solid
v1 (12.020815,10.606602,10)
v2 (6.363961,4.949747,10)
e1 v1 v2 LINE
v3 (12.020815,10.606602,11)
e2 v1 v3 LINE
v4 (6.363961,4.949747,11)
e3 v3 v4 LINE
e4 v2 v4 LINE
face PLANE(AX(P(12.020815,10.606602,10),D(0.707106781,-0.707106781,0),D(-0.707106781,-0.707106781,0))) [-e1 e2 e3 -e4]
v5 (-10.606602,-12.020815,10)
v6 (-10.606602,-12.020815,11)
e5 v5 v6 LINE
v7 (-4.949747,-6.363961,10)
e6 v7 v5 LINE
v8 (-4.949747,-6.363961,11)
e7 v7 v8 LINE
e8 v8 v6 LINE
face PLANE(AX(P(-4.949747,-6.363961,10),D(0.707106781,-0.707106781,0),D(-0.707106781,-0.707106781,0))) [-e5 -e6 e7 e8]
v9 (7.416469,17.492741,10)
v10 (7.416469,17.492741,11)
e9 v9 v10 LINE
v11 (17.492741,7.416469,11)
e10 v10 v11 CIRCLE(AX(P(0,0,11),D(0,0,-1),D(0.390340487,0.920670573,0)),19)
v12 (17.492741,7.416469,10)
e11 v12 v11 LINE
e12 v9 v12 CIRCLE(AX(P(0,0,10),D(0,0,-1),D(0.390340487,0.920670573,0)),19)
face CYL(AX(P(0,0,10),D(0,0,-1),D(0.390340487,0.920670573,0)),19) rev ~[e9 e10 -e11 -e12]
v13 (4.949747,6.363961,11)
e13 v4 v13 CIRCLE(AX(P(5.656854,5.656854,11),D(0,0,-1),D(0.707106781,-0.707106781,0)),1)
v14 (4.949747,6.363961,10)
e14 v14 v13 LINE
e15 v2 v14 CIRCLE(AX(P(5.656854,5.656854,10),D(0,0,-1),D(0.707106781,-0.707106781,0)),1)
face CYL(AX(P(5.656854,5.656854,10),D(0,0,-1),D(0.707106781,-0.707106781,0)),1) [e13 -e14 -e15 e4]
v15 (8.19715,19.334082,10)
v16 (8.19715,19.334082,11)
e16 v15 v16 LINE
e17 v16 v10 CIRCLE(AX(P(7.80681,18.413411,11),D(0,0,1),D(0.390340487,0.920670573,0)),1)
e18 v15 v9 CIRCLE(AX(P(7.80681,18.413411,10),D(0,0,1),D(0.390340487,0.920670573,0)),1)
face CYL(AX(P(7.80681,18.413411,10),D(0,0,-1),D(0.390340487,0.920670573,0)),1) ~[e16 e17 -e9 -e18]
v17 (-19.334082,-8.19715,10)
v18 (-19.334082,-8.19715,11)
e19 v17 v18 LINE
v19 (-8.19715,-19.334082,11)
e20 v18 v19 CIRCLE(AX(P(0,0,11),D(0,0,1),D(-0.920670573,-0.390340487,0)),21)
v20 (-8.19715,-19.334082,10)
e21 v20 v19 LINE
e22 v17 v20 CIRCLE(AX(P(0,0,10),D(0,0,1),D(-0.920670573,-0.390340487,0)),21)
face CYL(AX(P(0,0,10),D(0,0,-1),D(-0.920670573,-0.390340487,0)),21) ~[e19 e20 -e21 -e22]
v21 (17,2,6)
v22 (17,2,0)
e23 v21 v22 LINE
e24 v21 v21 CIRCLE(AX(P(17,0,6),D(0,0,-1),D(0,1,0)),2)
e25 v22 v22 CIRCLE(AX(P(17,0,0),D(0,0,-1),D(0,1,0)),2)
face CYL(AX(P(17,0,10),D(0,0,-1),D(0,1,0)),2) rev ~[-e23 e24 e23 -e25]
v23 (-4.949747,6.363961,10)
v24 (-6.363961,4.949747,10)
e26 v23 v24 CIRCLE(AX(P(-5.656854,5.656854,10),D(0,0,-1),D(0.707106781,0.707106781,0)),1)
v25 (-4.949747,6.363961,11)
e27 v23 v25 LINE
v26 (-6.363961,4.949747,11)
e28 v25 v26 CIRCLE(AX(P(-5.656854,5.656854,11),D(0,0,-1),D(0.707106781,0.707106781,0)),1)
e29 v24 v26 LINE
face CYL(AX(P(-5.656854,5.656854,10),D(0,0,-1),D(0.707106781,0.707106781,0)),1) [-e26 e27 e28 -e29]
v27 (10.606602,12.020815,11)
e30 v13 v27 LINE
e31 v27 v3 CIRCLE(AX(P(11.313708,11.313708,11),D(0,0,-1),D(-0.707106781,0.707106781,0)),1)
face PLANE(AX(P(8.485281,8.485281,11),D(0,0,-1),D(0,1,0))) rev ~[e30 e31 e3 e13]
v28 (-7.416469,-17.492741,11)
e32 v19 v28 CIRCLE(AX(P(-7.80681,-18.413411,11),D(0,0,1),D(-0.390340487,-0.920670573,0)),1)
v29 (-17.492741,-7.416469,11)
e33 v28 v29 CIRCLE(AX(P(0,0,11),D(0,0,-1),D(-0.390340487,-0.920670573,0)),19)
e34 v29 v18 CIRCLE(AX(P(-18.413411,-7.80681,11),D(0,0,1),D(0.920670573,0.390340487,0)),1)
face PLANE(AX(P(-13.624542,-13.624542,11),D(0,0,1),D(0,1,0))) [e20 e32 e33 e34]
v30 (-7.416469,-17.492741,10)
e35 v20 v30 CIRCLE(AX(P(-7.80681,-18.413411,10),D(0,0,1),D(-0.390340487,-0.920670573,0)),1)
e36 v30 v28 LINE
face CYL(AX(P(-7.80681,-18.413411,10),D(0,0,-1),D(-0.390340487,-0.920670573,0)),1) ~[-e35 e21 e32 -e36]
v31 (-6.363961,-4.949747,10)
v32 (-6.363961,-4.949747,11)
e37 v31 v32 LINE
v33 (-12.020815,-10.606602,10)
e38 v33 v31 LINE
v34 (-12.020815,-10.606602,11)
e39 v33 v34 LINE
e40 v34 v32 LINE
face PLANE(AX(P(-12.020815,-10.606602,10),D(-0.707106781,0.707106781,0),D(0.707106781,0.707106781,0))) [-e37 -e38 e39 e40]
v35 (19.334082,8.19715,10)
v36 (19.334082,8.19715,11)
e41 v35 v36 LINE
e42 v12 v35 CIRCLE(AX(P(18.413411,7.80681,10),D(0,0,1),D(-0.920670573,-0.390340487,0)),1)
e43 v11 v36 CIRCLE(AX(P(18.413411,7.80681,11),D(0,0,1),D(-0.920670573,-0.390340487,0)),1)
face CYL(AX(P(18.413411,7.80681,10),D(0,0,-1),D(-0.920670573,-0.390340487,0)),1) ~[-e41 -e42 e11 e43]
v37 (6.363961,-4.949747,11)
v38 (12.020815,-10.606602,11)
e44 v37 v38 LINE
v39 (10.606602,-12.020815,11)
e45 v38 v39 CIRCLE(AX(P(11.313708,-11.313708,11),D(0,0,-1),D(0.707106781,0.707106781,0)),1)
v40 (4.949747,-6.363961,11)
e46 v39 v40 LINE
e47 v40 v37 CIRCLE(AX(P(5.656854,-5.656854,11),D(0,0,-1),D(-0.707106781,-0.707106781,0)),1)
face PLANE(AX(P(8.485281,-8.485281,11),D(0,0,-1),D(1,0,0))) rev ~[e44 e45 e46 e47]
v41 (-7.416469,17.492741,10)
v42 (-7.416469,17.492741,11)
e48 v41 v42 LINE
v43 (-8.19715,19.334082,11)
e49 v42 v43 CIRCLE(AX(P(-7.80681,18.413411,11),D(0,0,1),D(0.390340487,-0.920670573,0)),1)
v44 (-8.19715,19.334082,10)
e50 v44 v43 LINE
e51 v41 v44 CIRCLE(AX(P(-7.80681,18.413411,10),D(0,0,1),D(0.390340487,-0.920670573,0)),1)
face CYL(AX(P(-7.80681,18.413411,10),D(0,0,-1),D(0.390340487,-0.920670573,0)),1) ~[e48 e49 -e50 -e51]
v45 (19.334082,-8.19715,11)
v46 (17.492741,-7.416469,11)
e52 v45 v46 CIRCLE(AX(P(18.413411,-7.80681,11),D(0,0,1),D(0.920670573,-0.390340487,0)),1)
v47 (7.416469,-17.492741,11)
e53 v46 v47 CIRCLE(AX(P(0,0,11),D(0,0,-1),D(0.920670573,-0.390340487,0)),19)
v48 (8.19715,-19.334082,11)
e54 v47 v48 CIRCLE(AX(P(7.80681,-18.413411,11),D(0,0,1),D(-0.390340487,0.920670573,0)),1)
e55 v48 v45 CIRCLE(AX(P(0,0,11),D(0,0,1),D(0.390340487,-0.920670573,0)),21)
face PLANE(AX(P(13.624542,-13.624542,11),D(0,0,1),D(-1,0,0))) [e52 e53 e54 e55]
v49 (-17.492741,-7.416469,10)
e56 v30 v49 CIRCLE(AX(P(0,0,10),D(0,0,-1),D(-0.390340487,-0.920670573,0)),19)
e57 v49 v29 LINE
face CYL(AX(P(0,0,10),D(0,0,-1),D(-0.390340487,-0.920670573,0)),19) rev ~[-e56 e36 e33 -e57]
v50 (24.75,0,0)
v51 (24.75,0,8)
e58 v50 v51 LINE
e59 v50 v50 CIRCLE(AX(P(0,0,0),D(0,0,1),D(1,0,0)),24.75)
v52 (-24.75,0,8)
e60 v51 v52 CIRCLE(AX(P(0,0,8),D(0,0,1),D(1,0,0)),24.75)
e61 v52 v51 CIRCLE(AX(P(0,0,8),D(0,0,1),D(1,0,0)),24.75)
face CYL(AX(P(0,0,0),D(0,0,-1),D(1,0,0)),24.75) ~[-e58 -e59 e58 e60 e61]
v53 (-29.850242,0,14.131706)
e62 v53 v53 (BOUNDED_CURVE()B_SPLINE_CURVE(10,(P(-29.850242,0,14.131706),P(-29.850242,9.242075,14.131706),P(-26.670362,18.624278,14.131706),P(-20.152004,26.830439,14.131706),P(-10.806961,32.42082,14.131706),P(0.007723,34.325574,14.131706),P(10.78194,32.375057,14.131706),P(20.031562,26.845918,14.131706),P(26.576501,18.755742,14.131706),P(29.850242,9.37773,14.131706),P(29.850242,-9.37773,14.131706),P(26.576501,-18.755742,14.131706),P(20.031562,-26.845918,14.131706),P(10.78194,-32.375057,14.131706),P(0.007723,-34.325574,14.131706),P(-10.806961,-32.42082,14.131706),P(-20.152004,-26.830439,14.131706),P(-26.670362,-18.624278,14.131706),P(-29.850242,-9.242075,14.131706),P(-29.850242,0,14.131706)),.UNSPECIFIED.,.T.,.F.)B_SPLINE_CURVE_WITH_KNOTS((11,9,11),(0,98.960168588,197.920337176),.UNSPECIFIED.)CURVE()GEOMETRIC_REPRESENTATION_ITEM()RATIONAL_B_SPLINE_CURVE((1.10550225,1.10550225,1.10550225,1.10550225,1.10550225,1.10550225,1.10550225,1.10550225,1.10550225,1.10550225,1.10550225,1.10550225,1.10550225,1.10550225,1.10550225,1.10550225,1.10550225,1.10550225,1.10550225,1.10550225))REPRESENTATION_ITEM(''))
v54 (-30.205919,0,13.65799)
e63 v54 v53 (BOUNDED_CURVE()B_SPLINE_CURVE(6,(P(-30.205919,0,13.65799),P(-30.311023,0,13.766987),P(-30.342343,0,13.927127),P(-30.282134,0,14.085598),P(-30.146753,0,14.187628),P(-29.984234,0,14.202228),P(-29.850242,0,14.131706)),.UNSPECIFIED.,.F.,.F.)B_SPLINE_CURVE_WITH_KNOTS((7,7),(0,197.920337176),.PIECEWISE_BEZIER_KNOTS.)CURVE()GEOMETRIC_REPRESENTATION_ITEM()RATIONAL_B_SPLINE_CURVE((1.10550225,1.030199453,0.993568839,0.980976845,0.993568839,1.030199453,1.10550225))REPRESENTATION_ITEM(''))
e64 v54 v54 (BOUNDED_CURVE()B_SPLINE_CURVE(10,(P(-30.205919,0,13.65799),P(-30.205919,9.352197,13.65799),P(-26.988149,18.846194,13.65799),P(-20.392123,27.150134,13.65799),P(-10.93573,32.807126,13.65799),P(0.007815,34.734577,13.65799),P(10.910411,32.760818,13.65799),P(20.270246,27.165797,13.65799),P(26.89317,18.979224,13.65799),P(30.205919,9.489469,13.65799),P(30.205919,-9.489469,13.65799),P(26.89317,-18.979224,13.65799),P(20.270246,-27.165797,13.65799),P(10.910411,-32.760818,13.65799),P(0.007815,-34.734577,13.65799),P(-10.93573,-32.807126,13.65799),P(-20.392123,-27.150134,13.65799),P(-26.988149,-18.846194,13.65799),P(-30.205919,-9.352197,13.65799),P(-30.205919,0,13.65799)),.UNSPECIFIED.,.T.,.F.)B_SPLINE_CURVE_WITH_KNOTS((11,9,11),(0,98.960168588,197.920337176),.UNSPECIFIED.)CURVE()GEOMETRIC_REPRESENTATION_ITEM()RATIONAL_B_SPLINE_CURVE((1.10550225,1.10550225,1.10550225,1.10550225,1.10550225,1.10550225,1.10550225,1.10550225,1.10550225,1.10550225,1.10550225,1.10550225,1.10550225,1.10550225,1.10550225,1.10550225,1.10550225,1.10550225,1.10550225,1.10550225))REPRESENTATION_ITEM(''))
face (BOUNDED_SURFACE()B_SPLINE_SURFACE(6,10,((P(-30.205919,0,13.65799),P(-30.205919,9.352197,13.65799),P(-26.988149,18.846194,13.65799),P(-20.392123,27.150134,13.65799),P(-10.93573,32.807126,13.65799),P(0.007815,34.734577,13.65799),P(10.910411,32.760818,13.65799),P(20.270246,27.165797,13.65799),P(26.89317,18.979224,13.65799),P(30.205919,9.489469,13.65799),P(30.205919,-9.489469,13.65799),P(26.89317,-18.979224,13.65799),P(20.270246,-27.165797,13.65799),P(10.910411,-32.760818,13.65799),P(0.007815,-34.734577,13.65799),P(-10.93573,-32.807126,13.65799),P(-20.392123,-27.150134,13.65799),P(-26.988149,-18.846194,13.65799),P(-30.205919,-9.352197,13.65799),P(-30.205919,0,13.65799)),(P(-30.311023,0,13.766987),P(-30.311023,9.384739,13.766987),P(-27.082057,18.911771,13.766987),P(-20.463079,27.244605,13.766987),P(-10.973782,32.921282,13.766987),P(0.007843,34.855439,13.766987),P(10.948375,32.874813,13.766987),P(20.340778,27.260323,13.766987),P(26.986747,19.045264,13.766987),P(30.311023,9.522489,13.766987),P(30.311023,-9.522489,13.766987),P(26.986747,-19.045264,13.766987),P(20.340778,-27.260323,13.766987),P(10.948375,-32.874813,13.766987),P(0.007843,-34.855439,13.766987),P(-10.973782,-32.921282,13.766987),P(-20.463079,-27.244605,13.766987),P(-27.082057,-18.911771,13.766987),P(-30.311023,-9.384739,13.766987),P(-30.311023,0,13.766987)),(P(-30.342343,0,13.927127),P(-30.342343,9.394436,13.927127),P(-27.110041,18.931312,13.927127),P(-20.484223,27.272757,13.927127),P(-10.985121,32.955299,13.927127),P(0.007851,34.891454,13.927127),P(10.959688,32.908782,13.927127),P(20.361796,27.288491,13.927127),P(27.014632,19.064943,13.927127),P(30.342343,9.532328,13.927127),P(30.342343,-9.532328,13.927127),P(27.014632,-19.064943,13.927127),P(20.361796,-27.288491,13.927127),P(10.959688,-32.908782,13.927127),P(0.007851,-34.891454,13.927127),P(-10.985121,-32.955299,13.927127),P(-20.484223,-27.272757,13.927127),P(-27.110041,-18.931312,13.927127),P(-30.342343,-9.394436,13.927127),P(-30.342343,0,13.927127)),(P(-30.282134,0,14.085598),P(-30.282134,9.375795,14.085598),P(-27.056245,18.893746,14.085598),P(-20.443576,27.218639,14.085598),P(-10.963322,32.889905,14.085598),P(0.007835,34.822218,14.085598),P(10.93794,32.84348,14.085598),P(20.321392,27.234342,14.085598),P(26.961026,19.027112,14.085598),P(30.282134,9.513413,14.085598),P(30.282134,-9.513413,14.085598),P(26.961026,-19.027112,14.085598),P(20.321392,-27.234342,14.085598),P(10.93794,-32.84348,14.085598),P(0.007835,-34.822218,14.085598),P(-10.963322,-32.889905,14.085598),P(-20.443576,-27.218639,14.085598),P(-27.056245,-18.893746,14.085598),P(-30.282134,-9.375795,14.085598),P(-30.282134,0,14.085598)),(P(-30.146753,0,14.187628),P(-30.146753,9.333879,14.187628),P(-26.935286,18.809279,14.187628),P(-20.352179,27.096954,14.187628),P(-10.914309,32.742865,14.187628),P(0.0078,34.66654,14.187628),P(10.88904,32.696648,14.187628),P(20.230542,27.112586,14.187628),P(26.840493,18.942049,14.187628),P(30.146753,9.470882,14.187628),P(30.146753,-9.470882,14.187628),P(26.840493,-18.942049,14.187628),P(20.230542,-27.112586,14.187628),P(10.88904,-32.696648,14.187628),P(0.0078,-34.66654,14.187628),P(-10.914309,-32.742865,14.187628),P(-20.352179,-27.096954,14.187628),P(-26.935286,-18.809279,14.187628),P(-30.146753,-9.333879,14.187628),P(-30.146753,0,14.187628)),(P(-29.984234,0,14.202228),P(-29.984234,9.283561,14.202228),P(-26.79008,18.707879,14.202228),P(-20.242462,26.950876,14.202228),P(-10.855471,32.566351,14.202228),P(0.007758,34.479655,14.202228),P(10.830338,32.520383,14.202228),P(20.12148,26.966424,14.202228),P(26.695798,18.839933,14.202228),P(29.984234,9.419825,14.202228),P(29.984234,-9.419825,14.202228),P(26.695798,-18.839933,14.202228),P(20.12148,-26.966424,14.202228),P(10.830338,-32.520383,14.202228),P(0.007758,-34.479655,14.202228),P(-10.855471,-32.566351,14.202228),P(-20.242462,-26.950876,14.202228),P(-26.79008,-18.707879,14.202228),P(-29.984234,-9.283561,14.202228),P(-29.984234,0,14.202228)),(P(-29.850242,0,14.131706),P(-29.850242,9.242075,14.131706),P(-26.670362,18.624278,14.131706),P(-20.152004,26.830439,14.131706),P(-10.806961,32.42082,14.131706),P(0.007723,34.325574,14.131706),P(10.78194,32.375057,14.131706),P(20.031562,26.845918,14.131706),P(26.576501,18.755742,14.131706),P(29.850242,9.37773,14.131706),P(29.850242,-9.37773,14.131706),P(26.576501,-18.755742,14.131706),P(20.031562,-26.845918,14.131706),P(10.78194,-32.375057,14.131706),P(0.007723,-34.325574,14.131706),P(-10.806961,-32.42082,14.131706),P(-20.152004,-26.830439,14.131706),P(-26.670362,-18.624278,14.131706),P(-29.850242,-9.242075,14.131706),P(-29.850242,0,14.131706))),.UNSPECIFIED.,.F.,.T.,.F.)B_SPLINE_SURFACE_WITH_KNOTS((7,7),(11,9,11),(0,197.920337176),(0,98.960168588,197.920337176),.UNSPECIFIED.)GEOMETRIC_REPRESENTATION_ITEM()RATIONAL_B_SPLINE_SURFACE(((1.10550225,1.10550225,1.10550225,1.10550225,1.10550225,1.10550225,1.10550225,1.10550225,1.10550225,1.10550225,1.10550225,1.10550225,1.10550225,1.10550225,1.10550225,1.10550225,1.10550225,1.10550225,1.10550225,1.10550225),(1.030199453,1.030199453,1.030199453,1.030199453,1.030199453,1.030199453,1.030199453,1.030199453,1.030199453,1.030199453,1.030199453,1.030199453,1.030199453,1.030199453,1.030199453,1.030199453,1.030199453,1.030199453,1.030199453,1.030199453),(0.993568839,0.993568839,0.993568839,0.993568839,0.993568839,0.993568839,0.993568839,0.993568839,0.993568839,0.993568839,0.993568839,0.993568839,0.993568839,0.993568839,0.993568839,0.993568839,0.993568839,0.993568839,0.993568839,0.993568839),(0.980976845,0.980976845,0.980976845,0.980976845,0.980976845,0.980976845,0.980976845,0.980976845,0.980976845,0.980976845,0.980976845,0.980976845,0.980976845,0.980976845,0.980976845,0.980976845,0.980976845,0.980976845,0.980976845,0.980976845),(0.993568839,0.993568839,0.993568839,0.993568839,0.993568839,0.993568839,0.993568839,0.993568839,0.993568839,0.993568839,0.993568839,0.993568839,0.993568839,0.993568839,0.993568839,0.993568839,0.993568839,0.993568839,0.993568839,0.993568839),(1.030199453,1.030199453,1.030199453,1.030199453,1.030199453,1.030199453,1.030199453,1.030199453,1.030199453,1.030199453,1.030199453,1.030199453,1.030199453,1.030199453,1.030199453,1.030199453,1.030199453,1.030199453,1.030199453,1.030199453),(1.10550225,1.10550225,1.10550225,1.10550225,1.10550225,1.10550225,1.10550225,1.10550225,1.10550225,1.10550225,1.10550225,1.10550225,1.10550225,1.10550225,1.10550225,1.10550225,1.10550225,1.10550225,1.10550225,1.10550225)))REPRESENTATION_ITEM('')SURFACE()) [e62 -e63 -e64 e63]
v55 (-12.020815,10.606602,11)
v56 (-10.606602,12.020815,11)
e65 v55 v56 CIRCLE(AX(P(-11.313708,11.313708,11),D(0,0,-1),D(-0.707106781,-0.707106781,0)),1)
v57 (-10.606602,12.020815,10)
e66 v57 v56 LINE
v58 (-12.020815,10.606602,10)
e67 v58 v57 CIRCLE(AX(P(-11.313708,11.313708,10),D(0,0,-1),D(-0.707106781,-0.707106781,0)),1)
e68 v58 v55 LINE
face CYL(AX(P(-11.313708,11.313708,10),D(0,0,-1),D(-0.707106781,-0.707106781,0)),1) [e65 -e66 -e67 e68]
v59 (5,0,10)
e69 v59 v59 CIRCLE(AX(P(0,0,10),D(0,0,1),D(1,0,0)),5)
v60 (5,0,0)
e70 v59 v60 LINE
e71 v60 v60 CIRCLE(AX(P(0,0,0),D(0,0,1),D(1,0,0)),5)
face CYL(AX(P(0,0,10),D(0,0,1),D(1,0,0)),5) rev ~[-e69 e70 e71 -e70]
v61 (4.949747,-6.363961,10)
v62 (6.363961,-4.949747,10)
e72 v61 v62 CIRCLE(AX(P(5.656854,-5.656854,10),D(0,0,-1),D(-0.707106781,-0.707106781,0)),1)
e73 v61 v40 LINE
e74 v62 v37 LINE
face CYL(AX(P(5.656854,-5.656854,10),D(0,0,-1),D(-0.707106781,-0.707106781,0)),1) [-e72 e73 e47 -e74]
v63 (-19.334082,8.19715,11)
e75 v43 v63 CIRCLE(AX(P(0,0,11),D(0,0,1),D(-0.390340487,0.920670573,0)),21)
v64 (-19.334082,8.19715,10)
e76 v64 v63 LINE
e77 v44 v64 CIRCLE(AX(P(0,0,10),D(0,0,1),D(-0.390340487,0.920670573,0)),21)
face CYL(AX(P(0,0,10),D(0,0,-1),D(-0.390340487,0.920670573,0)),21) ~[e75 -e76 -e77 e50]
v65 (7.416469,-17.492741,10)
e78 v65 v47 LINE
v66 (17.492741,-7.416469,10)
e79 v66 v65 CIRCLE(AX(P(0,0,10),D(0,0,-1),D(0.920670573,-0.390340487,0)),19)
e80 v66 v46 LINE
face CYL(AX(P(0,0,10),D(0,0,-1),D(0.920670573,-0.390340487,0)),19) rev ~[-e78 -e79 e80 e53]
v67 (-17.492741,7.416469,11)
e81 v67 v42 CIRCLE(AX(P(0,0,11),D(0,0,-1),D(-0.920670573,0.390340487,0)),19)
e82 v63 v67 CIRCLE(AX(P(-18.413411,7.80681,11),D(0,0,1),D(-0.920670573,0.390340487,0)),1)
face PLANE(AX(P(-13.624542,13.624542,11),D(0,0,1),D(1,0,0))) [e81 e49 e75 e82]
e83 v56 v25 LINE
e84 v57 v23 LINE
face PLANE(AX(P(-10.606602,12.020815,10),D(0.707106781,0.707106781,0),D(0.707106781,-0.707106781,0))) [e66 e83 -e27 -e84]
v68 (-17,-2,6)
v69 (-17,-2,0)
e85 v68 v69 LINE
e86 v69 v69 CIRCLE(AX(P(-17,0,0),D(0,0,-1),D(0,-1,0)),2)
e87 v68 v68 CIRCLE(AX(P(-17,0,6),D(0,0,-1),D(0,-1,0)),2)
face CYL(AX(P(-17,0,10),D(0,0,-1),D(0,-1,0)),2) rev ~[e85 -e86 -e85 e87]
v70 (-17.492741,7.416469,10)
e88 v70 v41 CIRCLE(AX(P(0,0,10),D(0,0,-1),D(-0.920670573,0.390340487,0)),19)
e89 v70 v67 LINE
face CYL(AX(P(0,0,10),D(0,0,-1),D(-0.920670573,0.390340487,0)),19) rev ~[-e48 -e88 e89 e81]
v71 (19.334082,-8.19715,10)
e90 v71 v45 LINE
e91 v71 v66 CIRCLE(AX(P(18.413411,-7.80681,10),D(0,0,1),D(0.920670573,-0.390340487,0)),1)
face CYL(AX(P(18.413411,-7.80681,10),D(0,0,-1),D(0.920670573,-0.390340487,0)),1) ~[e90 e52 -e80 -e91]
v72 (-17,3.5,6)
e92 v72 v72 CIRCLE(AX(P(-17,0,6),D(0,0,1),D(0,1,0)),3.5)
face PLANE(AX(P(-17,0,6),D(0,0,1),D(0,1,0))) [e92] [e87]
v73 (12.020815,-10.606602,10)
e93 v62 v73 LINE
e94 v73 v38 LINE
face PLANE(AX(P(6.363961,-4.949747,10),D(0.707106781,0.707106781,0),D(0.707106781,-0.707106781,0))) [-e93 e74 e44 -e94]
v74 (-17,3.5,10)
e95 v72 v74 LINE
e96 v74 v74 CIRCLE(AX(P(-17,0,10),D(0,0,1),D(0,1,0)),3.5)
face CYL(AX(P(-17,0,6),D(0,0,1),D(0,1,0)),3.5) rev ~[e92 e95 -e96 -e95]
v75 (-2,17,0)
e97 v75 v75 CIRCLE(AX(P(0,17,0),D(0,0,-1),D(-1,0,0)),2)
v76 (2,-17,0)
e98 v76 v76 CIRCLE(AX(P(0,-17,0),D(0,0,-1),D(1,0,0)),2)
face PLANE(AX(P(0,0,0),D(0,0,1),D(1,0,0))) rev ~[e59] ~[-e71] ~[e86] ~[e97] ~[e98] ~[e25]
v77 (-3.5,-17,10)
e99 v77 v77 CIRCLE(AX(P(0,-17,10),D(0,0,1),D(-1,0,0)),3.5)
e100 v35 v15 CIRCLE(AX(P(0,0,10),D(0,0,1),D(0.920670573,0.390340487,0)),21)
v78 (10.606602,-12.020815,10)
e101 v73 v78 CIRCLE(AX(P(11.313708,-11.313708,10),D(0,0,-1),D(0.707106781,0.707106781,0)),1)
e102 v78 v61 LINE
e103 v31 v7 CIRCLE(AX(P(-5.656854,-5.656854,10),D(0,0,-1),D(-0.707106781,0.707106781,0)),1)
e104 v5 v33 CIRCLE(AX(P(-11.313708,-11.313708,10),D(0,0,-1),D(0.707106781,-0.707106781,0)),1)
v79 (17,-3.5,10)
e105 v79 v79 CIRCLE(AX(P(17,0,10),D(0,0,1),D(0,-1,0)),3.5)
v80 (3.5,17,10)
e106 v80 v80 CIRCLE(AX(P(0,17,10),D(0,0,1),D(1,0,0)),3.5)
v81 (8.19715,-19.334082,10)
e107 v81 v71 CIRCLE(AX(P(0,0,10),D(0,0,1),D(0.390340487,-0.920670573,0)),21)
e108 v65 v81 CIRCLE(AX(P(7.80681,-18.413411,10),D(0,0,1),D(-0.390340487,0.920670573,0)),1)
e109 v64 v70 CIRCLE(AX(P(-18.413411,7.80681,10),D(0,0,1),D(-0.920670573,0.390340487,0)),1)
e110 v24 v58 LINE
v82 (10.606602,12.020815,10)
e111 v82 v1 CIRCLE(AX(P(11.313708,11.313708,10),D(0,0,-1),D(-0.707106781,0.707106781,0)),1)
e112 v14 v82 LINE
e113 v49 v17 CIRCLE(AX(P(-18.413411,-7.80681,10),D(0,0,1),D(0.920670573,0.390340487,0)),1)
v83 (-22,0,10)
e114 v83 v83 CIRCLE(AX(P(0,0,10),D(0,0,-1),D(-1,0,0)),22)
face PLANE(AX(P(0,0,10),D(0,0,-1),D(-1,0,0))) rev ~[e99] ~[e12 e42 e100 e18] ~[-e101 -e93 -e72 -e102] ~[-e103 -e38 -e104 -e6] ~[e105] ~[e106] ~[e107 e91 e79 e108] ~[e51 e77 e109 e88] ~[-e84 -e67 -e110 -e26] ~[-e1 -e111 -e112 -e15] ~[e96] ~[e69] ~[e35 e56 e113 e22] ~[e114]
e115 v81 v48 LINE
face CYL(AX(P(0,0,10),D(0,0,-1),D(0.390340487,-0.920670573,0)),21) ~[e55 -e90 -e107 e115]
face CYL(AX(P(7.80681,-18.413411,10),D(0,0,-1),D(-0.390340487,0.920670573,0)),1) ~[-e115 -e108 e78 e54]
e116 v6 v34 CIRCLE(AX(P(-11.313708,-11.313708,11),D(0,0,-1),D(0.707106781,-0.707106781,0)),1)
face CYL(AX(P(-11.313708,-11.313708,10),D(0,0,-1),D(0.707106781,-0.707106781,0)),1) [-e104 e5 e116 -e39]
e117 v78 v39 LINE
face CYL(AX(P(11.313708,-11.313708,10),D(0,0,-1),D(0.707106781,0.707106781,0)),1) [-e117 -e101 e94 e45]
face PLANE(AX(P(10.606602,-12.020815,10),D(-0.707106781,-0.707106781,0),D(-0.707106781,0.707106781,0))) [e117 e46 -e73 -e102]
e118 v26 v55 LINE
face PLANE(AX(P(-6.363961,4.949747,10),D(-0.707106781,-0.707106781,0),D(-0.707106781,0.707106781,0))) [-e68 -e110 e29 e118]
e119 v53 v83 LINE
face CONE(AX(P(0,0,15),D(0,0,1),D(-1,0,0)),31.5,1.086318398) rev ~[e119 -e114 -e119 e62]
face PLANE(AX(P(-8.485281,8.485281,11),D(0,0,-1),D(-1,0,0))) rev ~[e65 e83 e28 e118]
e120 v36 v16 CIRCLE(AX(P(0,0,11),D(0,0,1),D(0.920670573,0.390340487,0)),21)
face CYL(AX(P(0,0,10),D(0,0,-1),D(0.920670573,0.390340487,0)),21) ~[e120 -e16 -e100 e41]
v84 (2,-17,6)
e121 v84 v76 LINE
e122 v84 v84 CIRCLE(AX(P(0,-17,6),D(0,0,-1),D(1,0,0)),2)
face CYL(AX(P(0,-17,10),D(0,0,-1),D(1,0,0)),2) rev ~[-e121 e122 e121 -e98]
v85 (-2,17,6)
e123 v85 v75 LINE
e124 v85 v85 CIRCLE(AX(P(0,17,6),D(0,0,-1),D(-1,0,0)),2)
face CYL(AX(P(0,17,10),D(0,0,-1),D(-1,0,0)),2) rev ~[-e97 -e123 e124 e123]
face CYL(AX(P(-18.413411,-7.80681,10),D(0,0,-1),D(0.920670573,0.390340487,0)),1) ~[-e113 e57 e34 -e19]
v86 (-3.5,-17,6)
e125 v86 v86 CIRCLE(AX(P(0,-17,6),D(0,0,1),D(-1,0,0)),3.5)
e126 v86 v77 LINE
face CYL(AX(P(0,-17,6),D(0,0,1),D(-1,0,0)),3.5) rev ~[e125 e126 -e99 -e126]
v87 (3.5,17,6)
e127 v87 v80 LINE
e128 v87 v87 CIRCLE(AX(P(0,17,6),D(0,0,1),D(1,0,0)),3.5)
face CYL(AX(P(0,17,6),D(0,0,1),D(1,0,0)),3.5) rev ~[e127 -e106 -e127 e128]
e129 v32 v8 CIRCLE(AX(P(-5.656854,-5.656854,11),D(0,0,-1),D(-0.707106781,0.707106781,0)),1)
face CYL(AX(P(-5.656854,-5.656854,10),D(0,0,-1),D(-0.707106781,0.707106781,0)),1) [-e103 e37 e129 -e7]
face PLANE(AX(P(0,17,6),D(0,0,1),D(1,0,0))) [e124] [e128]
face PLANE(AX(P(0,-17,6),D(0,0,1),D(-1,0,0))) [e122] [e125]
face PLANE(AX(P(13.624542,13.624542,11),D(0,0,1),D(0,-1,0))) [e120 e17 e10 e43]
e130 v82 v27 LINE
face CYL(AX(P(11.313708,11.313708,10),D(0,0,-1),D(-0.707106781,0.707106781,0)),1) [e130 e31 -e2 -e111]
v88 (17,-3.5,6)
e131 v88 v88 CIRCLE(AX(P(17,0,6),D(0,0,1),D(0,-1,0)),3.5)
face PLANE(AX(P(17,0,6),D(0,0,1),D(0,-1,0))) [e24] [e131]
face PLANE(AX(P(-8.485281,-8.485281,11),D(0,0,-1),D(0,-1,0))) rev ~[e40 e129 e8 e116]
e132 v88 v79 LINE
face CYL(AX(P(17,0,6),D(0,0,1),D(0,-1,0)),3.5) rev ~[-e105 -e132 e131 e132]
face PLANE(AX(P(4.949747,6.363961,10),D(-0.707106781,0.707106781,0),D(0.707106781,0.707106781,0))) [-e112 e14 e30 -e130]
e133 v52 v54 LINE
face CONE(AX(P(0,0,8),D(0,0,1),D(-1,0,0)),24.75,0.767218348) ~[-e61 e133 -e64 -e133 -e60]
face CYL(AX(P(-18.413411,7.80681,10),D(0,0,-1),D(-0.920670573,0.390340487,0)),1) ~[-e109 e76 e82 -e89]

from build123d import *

# Parameters (mm, degrees)
SKETCH_1_R                = 24.75
EXTRUDE_1_DEPTH           = 8
FILLET_1_R                = 0.3
SKETCH_3_R                = 5
CUT_EXTRUDE_1_DEPTH       = 5.166230823
CUT_EXTRUDE_1_DEPTH_BACK  = 11
HOLE_WIZARD_1_D           = 4
HOLE_WIZARD_1_DEPTH       = 100
HOLE_WIZARD_1_CBORE_D     = 7
HOLE_WIZARD_1_CBORE_DEPTH = 4
PATTERN_CIRCULAR_1_COUNT  = 4
EXTRUDE_1_2_DEPTH         = 1
EXTRUDE_3_DEPTH           = 1
PATTERN_CIRCULAR_2_COUNT  = 4


with BuildPart() as part:
    # 草图1 → Extrude 1 (new body)
    with BuildSketch(Plane.XY):
        Circle(SKETCH_1_R)
    extrude(amount=EXTRUDE_1_DEPTH)

    # 草图2 → 旋转1 (revolve)
    with BuildSketch(Plane(origin=(0, 0, 0), x_dir=(1, 0, 0), z_dir=(0, 1, 0))):
        Polygon((-24.75, -8), (-31.5, -15), (-22, -10), (0, -10), (0, -8), align=None)
    revolve(axis=Axis((0, 0, 10), (0, 0, -1)))

    # 圆角1
    fillet_1_edges = [part.edges().sort_by_distance(p)[0] for p in [
        (31.5, 0, 15),
    ]]
    fillet(fillet_1_edges, radius=FILLET_1_R)

    # 草图3 → 切除-拉伸1 (cut, two sides)
    with BuildSketch(Plane.XY.offset(10)) as cut_extrude_1_sk:
        Circle(SKETCH_3_R)
    extrude(amount=CUT_EXTRUDE_1_DEPTH, mode=Mode.SUBTRACT)
    extrude(cut_extrude_1_sk.sketch, amount=-CUT_EXTRUDE_1_DEPTH_BACK, mode=Mode.SUBTRACT)

    # 孔1
    with Locations(Plane.XY.offset(10)):
        with Locations((0, 17)):
            hole_wizard_1 = CounterBoreHole(HOLE_WIZARD_1_D / 2, HOLE_WIZARD_1_CBORE_D / 2, HOLE_WIZARD_1_CBORE_DEPTH, depth=HOLE_WIZARD_1_DEPTH)

    # 阵列(圆周)1: 孔1 ×4 about axis
    pattern_circular_1_axis = Axis((0, 0, 0), (0, 0, 1))
    for i in range(1, PATTERN_CIRCULAR_1_COUNT):
        add(hole_wizard_1.rotate(pattern_circular_1_axis, i * 360 / PATTERN_CIRCULAR_1_COUNT), mode=Mode.SUBTRACT)

    # 草图6 → Extrude 1 2 (add)
    with BuildSketch(Plane.XY.offset(10)):
        with BuildLine():
            ThreePointArc((-8.19715023, 19.334082034), (-14.849242405, 14.849242405), (-19.334082034, 8.19715023))
            ThreePointArc((-19.334082034, 8.19715023), (-18.803751948, 6.88613917), (-17.492740888, 7.416469256))
            ThreePointArc((-17.492740888, 7.416469256), (-13.435028843, 13.435028843), (-7.416469256, 17.492740888))
            ThreePointArc((-7.416469256, 17.492740888), (-6.88613917, 18.803751948), (-8.19715023, 19.334082034))
        make_face()
    extrude_1_2 = extrude(amount=EXTRUDE_1_2_DEPTH)

    # 草图7 → 凸台-拉伸3 (add)
    with BuildSketch(Plane.XY.offset(10)):
        with BuildLine():
            Line((-10.606601718, 12.02081528), (-4.949747468, 6.363961031))
            ThreePointArc((-4.949747468, 6.363961031), (-4.949747468, 4.949747468), (-6.363961031, 4.949747468))
            Line((-6.363961031, 4.949747468), (-12.02081528, 10.606601718))
            ThreePointArc((-12.02081528, 10.606601718), (-12.02081528, 12.02081528), (-10.606601718, 12.02081528))
        make_face()
    extrude_3 = extrude(amount=EXTRUDE_3_DEPTH)

    # 阵列(圆周)2: Extrude 1 2, 凸台-拉伸3 ×4 about axis
    pattern_circular_2_axis = Axis((0, 0, 0), (0, 0, 1))
    for i in range(1, PATTERN_CIRCULAR_2_COUNT):
        add(extrude_1_2.rotate(pattern_circular_2_axis, i * 360 / PATTERN_CIRCULAR_2_COUNT))
        add(extrude_3.rotate(pattern_circular_2_axis, i * 360 / PATTERN_CIRCULAR_2_COUNT))


solid = part.part
